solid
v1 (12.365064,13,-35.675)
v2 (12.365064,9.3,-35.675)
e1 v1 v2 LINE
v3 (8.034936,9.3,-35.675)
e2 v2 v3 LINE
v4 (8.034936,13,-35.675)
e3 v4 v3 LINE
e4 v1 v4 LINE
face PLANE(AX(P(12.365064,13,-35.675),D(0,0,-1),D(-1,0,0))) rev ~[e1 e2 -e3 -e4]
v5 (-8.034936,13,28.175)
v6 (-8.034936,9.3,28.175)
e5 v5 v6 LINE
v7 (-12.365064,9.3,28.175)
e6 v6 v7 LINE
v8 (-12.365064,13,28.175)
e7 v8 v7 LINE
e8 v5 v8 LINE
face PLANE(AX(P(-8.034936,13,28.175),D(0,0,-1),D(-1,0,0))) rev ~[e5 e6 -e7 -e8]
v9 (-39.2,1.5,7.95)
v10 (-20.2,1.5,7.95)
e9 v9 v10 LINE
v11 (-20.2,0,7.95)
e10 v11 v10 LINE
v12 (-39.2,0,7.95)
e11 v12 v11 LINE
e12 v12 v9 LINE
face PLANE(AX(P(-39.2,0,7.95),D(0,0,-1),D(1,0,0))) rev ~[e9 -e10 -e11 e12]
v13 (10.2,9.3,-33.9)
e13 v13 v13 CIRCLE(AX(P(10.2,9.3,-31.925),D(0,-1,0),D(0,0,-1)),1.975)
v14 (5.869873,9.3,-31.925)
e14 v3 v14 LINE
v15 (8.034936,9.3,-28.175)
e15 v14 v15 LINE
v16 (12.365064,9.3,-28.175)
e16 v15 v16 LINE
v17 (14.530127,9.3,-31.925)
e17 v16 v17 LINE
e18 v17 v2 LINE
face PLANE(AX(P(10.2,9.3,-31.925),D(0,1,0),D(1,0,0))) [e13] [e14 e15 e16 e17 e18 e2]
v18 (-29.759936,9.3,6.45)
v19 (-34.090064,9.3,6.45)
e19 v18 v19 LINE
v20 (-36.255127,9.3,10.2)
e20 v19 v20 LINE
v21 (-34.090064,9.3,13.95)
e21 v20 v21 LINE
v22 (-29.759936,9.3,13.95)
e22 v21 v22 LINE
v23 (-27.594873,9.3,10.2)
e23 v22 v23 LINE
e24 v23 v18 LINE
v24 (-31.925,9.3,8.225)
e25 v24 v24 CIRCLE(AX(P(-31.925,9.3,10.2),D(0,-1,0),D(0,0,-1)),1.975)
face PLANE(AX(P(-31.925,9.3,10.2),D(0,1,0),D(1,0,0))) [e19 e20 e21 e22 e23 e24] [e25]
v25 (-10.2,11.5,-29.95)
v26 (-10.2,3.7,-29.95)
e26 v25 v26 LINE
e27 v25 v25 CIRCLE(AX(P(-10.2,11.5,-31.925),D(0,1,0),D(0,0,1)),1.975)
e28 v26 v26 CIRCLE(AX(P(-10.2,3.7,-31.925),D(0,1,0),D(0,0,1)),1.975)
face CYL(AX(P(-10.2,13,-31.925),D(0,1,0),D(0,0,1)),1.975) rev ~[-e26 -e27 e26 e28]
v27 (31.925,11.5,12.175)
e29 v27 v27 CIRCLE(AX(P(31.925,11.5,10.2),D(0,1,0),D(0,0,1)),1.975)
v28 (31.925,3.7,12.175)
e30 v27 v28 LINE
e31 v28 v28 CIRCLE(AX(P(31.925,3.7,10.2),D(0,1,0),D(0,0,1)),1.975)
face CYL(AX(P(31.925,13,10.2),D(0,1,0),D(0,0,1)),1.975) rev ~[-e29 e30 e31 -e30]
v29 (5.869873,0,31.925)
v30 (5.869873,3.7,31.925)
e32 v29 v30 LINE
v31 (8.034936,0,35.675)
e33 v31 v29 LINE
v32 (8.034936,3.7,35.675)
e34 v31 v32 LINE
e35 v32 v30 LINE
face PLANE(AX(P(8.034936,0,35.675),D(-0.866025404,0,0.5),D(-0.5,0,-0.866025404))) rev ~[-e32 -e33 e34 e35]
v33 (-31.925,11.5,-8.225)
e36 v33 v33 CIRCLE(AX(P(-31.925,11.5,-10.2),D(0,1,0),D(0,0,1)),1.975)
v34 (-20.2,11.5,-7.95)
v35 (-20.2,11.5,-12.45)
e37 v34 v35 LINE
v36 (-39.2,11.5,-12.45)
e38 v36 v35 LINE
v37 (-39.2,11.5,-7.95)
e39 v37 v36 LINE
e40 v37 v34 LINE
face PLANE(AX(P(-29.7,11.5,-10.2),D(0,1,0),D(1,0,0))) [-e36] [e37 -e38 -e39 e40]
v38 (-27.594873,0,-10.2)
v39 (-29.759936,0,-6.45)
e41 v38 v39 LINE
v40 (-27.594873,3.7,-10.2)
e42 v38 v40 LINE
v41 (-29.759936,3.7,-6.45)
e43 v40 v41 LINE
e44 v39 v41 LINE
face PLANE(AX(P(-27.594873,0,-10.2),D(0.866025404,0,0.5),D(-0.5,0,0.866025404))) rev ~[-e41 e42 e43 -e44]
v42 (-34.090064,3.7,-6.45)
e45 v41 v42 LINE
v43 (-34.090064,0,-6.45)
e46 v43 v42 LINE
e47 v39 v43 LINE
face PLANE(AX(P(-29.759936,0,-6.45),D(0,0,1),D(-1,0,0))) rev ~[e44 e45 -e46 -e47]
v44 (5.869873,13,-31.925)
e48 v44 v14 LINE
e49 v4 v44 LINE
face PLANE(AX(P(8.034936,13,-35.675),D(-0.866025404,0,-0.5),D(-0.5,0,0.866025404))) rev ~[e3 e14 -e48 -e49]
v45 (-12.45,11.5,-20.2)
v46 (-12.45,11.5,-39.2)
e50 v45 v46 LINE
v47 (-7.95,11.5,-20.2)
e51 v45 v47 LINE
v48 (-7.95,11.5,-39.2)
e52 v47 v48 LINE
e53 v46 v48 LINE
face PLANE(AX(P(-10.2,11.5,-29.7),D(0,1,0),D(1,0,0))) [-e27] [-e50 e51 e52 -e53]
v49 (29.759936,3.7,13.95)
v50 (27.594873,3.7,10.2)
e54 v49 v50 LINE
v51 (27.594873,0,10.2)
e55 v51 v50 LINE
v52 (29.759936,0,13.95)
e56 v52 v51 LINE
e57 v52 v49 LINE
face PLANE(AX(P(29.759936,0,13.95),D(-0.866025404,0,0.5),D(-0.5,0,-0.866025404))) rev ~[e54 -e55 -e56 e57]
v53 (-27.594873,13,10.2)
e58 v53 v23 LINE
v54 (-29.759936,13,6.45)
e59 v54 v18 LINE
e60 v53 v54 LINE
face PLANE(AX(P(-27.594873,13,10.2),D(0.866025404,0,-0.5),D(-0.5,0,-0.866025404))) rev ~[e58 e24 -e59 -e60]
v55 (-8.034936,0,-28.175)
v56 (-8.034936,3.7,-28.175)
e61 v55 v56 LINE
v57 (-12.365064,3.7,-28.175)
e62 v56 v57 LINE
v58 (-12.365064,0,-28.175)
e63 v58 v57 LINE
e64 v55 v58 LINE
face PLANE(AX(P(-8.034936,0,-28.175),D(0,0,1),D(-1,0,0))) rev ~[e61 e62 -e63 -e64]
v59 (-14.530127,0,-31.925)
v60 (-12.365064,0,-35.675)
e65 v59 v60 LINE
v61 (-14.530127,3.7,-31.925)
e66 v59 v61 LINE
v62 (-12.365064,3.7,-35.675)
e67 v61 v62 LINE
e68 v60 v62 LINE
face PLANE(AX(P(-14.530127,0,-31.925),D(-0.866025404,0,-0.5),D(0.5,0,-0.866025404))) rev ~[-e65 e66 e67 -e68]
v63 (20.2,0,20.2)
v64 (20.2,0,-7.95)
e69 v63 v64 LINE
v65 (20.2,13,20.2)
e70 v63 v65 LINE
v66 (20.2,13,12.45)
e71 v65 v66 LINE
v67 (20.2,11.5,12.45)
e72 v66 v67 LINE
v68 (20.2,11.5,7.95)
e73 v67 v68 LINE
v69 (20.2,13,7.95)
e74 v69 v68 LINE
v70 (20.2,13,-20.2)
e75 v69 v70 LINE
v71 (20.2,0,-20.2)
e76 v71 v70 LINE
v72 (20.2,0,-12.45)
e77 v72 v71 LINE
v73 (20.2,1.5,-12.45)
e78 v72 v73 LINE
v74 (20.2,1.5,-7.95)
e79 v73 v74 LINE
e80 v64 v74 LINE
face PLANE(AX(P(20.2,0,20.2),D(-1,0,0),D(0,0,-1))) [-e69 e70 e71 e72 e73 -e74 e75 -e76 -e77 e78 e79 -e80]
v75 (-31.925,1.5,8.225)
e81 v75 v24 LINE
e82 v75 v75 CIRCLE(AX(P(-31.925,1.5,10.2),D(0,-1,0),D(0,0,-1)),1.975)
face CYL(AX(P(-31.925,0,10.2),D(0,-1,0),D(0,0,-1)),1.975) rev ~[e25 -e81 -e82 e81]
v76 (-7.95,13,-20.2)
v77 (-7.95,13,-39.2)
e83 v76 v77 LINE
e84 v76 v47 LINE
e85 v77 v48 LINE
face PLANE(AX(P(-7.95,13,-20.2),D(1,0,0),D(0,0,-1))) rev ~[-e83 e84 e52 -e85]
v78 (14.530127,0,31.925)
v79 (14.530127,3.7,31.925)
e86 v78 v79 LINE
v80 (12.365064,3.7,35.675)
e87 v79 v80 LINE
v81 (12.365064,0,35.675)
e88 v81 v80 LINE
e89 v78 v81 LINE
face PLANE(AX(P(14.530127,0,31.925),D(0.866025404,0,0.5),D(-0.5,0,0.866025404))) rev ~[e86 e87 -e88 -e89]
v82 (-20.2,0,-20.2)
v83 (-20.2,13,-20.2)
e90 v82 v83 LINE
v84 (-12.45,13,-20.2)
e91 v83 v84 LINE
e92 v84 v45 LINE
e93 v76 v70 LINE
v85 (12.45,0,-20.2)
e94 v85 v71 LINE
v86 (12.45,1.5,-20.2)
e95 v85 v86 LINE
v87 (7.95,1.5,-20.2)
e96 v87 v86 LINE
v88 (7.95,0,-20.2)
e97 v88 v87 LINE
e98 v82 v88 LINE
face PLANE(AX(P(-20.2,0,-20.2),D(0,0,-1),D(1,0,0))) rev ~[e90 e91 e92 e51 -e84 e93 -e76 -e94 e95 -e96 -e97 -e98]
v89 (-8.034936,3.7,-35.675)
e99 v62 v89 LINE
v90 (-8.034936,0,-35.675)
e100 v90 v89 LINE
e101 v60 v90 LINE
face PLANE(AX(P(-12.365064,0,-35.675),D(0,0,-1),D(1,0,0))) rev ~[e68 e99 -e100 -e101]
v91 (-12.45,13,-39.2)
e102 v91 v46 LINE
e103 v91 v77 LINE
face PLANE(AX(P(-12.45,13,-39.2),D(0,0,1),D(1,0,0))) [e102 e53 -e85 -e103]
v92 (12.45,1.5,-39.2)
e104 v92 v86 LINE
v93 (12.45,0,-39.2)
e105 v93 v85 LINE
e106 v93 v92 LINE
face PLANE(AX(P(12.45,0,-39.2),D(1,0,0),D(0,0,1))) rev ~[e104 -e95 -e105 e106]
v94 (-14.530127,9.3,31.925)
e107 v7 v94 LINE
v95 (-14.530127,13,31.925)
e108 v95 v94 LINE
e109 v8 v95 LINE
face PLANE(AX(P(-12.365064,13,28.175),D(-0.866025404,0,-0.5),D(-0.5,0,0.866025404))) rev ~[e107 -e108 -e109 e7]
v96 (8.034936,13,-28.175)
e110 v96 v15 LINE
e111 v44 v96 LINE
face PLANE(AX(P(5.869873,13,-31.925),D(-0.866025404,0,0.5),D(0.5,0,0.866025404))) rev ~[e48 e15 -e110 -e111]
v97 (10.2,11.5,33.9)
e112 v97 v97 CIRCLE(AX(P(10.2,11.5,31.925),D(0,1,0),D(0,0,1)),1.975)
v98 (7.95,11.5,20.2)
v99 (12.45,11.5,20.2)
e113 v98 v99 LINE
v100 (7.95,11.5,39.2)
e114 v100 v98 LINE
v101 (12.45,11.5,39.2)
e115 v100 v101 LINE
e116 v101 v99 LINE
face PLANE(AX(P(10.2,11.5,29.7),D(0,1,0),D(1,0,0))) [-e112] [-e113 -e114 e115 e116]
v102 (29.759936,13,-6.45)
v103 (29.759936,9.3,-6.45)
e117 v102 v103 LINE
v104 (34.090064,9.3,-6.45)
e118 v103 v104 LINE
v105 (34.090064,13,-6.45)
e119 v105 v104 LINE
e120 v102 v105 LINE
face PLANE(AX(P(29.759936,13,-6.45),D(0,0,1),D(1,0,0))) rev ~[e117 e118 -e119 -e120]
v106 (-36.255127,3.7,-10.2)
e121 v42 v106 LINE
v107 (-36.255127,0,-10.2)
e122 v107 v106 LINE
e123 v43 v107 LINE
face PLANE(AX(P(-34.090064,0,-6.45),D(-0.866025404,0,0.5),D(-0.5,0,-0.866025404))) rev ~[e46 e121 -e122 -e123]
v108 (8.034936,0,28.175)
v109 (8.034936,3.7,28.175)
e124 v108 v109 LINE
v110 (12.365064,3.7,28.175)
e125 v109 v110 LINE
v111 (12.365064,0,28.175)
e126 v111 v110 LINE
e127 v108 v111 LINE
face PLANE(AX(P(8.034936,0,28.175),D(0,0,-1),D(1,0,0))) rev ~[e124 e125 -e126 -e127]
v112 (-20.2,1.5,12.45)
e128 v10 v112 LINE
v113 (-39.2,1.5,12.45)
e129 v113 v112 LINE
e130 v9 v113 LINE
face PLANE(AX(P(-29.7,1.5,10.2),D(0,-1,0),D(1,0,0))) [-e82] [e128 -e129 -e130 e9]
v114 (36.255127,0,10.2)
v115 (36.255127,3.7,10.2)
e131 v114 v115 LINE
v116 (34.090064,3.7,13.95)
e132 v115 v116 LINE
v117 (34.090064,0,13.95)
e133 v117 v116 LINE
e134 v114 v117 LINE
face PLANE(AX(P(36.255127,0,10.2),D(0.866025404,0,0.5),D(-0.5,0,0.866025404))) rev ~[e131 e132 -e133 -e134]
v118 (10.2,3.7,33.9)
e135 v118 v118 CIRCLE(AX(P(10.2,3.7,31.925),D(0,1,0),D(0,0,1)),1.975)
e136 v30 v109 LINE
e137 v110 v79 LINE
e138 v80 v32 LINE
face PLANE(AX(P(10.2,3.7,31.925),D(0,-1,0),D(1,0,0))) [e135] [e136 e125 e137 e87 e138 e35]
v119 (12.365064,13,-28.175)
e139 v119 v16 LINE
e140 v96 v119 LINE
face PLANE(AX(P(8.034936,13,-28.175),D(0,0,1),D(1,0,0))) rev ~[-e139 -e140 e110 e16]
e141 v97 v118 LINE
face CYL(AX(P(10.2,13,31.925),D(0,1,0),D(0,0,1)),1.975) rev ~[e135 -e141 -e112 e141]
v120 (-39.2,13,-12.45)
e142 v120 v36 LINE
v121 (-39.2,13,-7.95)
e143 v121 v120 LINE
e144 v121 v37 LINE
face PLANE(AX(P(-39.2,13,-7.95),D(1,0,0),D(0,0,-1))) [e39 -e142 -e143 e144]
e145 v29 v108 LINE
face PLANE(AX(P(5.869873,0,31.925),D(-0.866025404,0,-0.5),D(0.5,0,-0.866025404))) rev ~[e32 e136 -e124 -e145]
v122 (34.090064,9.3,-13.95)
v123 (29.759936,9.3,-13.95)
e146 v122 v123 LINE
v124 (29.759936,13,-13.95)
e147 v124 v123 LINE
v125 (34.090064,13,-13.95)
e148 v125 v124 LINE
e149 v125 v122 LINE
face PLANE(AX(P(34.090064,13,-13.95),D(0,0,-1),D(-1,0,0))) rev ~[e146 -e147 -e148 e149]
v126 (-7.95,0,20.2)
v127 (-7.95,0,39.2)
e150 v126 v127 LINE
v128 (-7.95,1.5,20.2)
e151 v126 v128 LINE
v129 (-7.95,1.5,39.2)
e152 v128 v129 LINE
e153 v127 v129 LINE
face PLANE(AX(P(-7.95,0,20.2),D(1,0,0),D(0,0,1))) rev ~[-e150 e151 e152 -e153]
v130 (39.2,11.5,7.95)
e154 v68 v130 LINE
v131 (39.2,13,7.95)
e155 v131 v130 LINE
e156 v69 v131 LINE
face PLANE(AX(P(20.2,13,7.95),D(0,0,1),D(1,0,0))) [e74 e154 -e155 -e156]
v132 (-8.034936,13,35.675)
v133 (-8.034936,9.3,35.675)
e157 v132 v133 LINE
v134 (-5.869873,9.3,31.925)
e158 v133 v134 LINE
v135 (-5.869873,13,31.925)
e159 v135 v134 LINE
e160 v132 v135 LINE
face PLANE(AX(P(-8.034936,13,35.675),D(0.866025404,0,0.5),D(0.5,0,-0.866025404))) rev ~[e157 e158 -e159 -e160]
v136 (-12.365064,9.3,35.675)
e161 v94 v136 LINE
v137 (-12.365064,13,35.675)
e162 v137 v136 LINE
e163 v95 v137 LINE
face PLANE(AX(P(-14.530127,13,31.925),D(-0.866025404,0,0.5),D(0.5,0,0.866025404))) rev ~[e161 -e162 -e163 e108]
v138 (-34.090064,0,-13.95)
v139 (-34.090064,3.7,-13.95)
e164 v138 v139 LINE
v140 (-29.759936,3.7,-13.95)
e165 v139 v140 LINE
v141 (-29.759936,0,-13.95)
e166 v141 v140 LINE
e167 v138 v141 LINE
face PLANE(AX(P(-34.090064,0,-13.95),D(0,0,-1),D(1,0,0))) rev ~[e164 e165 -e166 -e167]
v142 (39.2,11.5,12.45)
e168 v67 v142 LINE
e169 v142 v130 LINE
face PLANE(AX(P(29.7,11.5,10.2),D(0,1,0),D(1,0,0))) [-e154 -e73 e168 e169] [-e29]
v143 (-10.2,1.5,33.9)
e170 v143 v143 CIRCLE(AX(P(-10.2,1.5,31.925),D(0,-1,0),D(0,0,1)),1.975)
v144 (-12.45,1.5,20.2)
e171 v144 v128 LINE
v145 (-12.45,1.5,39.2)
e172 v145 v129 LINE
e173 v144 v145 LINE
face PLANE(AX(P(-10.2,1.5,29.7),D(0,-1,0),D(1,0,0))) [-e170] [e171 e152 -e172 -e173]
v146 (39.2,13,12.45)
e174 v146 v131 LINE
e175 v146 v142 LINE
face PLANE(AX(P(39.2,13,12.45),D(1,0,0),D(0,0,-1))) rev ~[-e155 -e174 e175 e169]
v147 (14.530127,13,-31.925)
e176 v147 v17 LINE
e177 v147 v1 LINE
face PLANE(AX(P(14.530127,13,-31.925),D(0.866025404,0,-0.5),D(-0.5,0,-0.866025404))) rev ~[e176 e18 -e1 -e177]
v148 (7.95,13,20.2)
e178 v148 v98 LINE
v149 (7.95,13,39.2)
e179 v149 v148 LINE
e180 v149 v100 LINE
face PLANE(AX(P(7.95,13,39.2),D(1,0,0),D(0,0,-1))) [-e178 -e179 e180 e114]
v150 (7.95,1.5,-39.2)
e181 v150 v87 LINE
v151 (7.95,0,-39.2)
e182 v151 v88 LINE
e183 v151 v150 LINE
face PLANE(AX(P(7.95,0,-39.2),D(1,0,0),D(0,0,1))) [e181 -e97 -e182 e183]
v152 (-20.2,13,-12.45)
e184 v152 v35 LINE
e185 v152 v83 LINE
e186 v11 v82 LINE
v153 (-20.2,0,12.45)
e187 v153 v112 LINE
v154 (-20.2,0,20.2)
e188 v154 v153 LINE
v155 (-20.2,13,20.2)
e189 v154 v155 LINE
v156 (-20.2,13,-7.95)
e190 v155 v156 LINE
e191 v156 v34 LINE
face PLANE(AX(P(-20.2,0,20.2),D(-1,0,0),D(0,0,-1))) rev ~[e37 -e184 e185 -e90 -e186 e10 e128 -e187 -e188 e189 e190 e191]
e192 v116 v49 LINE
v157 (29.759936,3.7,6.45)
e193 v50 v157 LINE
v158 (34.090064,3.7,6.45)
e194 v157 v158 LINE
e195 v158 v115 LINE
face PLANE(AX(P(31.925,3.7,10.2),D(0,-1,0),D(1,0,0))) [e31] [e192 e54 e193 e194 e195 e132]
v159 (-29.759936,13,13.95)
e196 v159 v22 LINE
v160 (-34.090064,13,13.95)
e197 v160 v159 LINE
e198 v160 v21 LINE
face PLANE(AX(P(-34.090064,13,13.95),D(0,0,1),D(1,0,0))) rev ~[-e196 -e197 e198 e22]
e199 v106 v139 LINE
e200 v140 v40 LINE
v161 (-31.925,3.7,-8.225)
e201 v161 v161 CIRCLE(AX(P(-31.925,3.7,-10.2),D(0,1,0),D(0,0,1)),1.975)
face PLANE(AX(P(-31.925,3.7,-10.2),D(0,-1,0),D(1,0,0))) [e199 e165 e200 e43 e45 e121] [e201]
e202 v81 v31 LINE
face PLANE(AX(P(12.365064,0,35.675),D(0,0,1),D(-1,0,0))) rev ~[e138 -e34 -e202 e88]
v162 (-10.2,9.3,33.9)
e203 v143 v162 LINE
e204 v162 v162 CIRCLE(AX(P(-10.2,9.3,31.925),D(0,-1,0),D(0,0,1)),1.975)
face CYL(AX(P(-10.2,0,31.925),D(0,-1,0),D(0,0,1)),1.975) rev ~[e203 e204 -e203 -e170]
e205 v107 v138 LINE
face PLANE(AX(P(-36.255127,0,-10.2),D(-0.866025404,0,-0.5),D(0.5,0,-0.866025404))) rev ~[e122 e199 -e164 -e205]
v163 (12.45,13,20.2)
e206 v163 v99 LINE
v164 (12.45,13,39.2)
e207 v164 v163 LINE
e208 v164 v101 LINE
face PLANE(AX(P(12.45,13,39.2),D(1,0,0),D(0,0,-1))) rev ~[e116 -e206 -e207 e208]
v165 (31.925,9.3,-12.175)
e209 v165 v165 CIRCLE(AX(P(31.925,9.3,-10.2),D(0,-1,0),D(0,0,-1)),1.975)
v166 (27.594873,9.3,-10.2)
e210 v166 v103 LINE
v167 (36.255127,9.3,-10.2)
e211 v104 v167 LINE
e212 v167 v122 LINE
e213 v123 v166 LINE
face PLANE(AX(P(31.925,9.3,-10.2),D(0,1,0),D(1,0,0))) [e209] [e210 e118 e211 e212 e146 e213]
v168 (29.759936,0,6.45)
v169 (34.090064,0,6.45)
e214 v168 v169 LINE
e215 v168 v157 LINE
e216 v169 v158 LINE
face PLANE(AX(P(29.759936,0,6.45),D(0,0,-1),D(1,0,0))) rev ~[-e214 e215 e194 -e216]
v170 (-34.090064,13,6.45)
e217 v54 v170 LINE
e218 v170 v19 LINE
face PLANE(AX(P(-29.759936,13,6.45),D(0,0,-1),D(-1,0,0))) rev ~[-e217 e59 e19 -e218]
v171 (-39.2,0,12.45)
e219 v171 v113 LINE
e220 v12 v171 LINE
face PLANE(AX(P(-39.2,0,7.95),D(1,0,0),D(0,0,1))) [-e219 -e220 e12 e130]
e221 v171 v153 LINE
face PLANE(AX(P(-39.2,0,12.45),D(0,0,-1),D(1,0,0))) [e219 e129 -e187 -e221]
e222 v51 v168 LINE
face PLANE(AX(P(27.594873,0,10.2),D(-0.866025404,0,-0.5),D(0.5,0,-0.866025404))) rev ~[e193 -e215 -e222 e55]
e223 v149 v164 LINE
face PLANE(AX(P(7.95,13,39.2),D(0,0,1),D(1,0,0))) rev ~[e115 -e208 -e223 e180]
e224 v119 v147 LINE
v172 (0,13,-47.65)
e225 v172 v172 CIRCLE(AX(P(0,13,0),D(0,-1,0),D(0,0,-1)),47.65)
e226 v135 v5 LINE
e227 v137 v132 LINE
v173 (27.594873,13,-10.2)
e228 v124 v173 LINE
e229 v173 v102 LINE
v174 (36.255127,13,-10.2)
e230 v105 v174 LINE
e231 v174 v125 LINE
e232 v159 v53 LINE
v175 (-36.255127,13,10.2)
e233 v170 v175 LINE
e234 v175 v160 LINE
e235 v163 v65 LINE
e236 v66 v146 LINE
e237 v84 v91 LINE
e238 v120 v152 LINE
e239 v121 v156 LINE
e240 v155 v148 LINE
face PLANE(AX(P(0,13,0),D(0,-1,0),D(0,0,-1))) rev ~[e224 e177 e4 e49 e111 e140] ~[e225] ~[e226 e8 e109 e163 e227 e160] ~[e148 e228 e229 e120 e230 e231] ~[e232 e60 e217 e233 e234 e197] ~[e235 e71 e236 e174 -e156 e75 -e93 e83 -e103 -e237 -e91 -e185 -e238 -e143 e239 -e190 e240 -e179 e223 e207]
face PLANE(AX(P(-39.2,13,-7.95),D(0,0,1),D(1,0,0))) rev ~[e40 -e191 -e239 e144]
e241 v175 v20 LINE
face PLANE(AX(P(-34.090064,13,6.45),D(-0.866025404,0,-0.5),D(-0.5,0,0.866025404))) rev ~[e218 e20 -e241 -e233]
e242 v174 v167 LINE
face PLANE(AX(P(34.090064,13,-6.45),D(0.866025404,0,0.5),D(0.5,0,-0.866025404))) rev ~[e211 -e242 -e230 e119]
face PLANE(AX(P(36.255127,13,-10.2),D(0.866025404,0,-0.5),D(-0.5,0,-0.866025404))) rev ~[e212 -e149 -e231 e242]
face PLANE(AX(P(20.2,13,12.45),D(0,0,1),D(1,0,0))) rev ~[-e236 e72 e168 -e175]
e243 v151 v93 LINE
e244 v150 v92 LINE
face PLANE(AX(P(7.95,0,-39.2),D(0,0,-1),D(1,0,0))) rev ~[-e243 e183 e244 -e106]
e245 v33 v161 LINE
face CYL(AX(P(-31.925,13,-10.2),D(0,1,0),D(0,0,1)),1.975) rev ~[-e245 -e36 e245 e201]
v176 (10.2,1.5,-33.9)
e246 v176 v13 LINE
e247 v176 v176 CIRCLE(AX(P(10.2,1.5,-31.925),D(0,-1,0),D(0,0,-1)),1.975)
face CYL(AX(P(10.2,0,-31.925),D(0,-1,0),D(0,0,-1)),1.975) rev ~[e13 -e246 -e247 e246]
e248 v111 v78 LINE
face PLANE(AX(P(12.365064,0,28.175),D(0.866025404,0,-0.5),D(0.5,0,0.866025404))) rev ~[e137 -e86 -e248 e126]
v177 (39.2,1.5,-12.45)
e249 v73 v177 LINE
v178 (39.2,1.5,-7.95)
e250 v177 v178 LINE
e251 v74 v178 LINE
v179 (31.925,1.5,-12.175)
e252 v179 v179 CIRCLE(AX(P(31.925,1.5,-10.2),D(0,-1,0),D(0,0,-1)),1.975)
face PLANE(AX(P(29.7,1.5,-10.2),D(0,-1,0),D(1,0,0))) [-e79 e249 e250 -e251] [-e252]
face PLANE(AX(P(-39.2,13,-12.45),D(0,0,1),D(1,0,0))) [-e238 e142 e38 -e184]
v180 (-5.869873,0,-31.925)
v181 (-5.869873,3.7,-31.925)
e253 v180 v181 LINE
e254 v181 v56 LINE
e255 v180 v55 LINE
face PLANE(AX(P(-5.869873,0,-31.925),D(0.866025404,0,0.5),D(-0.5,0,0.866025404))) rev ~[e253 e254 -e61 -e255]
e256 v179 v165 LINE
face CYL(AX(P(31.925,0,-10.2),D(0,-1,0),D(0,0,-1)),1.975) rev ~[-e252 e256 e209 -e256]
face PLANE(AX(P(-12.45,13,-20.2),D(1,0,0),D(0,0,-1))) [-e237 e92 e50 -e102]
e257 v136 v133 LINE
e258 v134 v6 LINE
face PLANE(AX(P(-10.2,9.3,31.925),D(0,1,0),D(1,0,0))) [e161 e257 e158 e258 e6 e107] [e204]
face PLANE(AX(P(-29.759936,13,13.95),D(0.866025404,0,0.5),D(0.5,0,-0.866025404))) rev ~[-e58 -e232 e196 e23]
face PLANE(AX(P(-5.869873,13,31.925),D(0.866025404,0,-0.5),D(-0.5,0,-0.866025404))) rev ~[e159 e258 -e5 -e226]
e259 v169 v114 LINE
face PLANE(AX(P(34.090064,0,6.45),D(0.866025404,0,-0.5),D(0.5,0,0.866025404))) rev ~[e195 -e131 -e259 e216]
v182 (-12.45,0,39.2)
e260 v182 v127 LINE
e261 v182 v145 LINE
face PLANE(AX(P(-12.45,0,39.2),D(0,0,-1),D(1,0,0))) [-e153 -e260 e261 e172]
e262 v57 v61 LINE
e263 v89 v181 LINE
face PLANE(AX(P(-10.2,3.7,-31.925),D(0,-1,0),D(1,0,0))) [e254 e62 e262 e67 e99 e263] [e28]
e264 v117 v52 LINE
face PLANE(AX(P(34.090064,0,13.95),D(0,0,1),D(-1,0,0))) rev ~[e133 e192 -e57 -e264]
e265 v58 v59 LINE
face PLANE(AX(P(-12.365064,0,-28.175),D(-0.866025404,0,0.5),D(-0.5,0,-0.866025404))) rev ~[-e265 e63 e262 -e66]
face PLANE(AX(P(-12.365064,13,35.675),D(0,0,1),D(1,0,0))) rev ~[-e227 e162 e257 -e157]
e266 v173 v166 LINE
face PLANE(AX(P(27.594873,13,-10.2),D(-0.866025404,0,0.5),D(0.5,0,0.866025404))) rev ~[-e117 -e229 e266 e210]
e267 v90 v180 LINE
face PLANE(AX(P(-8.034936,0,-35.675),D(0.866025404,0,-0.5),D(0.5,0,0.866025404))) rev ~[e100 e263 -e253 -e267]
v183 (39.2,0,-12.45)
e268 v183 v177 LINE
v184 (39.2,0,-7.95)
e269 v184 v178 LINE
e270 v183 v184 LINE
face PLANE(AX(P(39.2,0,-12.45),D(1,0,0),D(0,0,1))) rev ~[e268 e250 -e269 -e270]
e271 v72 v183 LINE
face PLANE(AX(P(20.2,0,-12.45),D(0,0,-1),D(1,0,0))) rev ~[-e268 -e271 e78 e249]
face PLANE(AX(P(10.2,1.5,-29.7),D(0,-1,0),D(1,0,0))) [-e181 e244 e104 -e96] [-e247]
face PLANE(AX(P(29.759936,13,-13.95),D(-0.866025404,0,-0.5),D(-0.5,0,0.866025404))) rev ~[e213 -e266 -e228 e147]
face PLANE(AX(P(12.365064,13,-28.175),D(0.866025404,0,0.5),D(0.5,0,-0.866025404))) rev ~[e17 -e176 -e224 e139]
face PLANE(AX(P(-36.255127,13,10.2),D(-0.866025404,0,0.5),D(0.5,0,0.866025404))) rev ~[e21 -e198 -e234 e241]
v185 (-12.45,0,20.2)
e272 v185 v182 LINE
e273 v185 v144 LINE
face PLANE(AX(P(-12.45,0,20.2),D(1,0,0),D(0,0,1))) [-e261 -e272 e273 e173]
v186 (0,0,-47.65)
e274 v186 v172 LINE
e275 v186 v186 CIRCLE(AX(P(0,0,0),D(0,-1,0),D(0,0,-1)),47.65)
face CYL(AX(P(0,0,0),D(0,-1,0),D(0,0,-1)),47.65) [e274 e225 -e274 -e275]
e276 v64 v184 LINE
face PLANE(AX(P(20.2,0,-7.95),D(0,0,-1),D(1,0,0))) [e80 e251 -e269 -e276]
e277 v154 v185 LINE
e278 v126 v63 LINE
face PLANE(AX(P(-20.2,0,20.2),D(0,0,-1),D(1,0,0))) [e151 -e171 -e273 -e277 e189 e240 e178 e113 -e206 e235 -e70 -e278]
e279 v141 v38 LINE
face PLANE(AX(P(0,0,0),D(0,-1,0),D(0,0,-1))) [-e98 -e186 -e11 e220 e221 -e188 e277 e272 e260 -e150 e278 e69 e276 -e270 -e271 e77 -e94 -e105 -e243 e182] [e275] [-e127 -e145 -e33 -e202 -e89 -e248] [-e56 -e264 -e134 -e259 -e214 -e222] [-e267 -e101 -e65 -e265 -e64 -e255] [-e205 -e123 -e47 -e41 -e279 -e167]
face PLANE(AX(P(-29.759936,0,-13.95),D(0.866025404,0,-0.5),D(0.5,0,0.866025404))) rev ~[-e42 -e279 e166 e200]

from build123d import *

# Parameters (mm, degrees)
SKETCH1_R           = 50.1
SKETCH1_W           = 40.4
SKETCH1_H           = 40.4
BOSS_EXTRUDE1_DEPTH = 13
SKETCH4_W           = 4.5
SKETCH4_H           = 19
SKETCH4_W_2         = 19
SKETCH4_H_2         = 4.5
CUT_EXTRUDE1_DEPTH  = 1.5
SKETCH5_W           = 4.5
SKETCH5_H           = 19
SKETCH5_W_2         = 19
SKETCH5_H_2         = 4.5
CUT_EXTRUDE2_DEPTH  = 1.5
SKETCH6_R           = 1.975
CUT_EXTRUDE3_DEPTH  = 21.5
SKETCH8_R           = 1.975
CUT_EXTRUDE4_DEPTH  = 21.5
CUT_EXTRUDE5_DEPTH  = 3.7
CUT_EXTRUDE6_DEPTH  = 3.7
CUT_EXTRUDE7_START  = -24
SKETCH11_R          = 50.1
SKETCH11_R_2        = 47.6
CUT_EXTRUDE7_DEPTH  = 24
SKETCH12_R          = 47.65
SKETCH12_R_2        = 47.6
BOSS_EXTRUDE2_DEPTH = 13


with BuildPart() as part:
    # Sketch1 → Boss-Extrude1 (new body)
    with BuildSketch(Plane(origin=(0, 0, 0), x_dir=(1, 0, 0), z_dir=(0, 1, 0))):
        with Locations(Location((0, 0, 0), (0, 0, 90))):
            Circle(SKETCH1_R)
        Rectangle(SKETCH1_W, SKETCH1_H, mode=Mode.SUBTRACT)
    extrude(amount=BOSS_EXTRUDE1_DEPTH)

    # Sketch4 → Cut-Extrude1 (cut)
    with BuildSketch(Plane(origin=(0, 13, 0), x_dir=(1, 0, 0), z_dir=(0, 1, 0))):
        with Locations((-10.2, 29.7)):
            Rectangle(SKETCH4_W, SKETCH4_H)
        with Locations((29.7, -10.2)):
            Rectangle(SKETCH4_W_2, SKETCH4_H_2)
        with Locations((10.2, -29.7)):
            Rectangle(SKETCH4_W, SKETCH4_H)
        with Locations((-29.7, 10.2)):
            Rectangle(SKETCH4_W_2, SKETCH4_H_2)
    extrude(amount=-CUT_EXTRUDE1_DEPTH, mode=Mode.SUBTRACT)

    # Sketch5 → Cut-Extrude2 (cut)
    with BuildSketch(Plane.XZ):
        with Locations((-10.2, 29.7)):
            Rectangle(SKETCH5_W, SKETCH5_H)
        with Locations((29.7, -10.2)):
            Rectangle(SKETCH5_W_2, SKETCH5_H_2)
        with Locations((10.2, -29.7)):
            Rectangle(SKETCH5_W, SKETCH5_H)
        with Locations((-29.7, 10.2)):
            Rectangle(SKETCH5_W_2, SKETCH5_H_2)
    extrude(amount=-CUT_EXTRUDE2_DEPTH, mode=Mode.SUBTRACT)

    # Sketch6 → Cut-Extrude3 (cut)
    with BuildSketch(Plane(origin=(0, 13, 0), x_dir=(1, 0, 0), z_dir=(0, 1, 0))):
        with Locations(Location((31.925, -10.2, 0), (0, 0, 270))):
            Circle(SKETCH6_R)
        with Locations(Location((-10.2, 31.925, 0), (0, 0, 270))):
            Circle(SKETCH6_R)
        with Locations(Location((-31.925, 10.2, 0), (0, 0, 270))):
            Circle(SKETCH6_R)
        with Locations(Location((10.2, -31.925, 0), (0, 0, 270))):
            Circle(SKETCH6_R)
    extrude(amount=-CUT_EXTRUDE3_DEPTH, mode=Mode.SUBTRACT)

    # Sketch8 → Cut-Extrude4 (cut)
    with BuildSketch(Plane.XZ):
        with Locations(Location((-10.2, 31.925, 0), (0, 0, 90))):
            Circle(SKETCH8_R)
        with Locations(Location((31.925, -10.2, 0), (0, 0, 270))):
            Circle(SKETCH8_R)
        with Locations(Location((10.2, -31.925, 0), (0, 0, 270))):
            Circle(SKETCH8_R)
        with Locations(Location((-31.925, 10.2, 0), (0, 0, 270))):
            Circle(SKETCH8_R)
    extrude(amount=-CUT_EXTRUDE4_DEPTH, mode=Mode.SUBTRACT)

    # Sketch9 → Cut-Extrude5 (cut)
    with BuildSketch(Plane.XZ):
        Polygon((14.530127019, 31.925), (12.365063509, 35.675), (8.034936491, 35.675), (5.869872981, 31.925), (8.034936491, 28.175), (12.365063509, 28.175), align=None)
        Polygon((36.255127019, 10.2), (34.090063509, 13.95), (29.759936491, 13.95), (27.594872981, 10.2), (29.759936491, 6.45), (34.090063509, 6.45), align=None)
        Polygon((-27.594872981, -10.2), (-29.759936491, -6.45), (-34.090063509, -6.45), (-36.255127019, -10.2), (-34.090063509, -13.95), (-29.759936491, -13.95), align=None)
        Polygon((-5.869872981, -31.925), (-8.034936491, -28.175), (-12.365063509, -28.175), (-14.530127019, -31.925), (-12.365063509, -35.675), (-8.034936491, -35.675), align=None)
    extrude(amount=-CUT_EXTRUDE5_DEPTH, mode=Mode.SUBTRACT)

    # Sketch10 → Cut-Extrude6 (cut)
    with BuildSketch(Plane(origin=(0, 13, 0), x_dir=(1, 0, 0), z_dir=(0, 1, 0))):
        Polygon((14.530127019, 31.925), (12.365063509, 35.675), (8.034936491, 35.675), (5.869872981, 31.925), (8.034936491, 28.175), (12.365063509, 28.175), align=None)
        Polygon((36.255127019, 10.2), (34.090063509, 13.95), (29.759936491, 13.95), (27.594872981, 10.2), (29.759936491, 6.45), (34.090063509, 6.45), align=None)
        Polygon((-5.869872981, -31.925), (-8.034936491, -28.175), (-12.365063509, -28.175), (-14.530127019, -31.925), (-12.365063509, -35.675), (-8.034936491, -35.675), align=None)
        Polygon((-27.594872981, -10.2), (-29.759936491, -6.45), (-34.090063509, -6.45), (-36.255127019, -10.2), (-34.090063509, -13.95), (-29.759936491, -13.95), align=None)
    extrude(amount=-CUT_EXTRUDE6_DEPTH, mode=Mode.SUBTRACT)

    # Sketch11 → Cut-Extrude7 (cut)
    with BuildSketch(Plane(origin=(0, 13, 0), x_dir=(1, 0, 0), z_dir=(0, 1, 0)).offset(CUT_EXTRUDE7_START)):
        Circle(SKETCH11_R)
        with Locations(Location((0, 0, 0), (0, 0, 270))):
            Circle(SKETCH11_R_2, mode=Mode.SUBTRACT)
    extrude(amount=CUT_EXTRUDE7_DEPTH, mode=Mode.SUBTRACT)

    # Sketch12 → Boss-Extrude2 (add)
    with BuildSketch(Plane.XZ):
        with Locations(Location((0, 0, 0), (0, 0, 270))):
            Circle(SKETCH12_R)
        Circle(SKETCH12_R_2, mode=Mode.SUBTRACT)
    extrude(amount=-BOSS_EXTRUDE2_DEPTH)


solid = part.part
